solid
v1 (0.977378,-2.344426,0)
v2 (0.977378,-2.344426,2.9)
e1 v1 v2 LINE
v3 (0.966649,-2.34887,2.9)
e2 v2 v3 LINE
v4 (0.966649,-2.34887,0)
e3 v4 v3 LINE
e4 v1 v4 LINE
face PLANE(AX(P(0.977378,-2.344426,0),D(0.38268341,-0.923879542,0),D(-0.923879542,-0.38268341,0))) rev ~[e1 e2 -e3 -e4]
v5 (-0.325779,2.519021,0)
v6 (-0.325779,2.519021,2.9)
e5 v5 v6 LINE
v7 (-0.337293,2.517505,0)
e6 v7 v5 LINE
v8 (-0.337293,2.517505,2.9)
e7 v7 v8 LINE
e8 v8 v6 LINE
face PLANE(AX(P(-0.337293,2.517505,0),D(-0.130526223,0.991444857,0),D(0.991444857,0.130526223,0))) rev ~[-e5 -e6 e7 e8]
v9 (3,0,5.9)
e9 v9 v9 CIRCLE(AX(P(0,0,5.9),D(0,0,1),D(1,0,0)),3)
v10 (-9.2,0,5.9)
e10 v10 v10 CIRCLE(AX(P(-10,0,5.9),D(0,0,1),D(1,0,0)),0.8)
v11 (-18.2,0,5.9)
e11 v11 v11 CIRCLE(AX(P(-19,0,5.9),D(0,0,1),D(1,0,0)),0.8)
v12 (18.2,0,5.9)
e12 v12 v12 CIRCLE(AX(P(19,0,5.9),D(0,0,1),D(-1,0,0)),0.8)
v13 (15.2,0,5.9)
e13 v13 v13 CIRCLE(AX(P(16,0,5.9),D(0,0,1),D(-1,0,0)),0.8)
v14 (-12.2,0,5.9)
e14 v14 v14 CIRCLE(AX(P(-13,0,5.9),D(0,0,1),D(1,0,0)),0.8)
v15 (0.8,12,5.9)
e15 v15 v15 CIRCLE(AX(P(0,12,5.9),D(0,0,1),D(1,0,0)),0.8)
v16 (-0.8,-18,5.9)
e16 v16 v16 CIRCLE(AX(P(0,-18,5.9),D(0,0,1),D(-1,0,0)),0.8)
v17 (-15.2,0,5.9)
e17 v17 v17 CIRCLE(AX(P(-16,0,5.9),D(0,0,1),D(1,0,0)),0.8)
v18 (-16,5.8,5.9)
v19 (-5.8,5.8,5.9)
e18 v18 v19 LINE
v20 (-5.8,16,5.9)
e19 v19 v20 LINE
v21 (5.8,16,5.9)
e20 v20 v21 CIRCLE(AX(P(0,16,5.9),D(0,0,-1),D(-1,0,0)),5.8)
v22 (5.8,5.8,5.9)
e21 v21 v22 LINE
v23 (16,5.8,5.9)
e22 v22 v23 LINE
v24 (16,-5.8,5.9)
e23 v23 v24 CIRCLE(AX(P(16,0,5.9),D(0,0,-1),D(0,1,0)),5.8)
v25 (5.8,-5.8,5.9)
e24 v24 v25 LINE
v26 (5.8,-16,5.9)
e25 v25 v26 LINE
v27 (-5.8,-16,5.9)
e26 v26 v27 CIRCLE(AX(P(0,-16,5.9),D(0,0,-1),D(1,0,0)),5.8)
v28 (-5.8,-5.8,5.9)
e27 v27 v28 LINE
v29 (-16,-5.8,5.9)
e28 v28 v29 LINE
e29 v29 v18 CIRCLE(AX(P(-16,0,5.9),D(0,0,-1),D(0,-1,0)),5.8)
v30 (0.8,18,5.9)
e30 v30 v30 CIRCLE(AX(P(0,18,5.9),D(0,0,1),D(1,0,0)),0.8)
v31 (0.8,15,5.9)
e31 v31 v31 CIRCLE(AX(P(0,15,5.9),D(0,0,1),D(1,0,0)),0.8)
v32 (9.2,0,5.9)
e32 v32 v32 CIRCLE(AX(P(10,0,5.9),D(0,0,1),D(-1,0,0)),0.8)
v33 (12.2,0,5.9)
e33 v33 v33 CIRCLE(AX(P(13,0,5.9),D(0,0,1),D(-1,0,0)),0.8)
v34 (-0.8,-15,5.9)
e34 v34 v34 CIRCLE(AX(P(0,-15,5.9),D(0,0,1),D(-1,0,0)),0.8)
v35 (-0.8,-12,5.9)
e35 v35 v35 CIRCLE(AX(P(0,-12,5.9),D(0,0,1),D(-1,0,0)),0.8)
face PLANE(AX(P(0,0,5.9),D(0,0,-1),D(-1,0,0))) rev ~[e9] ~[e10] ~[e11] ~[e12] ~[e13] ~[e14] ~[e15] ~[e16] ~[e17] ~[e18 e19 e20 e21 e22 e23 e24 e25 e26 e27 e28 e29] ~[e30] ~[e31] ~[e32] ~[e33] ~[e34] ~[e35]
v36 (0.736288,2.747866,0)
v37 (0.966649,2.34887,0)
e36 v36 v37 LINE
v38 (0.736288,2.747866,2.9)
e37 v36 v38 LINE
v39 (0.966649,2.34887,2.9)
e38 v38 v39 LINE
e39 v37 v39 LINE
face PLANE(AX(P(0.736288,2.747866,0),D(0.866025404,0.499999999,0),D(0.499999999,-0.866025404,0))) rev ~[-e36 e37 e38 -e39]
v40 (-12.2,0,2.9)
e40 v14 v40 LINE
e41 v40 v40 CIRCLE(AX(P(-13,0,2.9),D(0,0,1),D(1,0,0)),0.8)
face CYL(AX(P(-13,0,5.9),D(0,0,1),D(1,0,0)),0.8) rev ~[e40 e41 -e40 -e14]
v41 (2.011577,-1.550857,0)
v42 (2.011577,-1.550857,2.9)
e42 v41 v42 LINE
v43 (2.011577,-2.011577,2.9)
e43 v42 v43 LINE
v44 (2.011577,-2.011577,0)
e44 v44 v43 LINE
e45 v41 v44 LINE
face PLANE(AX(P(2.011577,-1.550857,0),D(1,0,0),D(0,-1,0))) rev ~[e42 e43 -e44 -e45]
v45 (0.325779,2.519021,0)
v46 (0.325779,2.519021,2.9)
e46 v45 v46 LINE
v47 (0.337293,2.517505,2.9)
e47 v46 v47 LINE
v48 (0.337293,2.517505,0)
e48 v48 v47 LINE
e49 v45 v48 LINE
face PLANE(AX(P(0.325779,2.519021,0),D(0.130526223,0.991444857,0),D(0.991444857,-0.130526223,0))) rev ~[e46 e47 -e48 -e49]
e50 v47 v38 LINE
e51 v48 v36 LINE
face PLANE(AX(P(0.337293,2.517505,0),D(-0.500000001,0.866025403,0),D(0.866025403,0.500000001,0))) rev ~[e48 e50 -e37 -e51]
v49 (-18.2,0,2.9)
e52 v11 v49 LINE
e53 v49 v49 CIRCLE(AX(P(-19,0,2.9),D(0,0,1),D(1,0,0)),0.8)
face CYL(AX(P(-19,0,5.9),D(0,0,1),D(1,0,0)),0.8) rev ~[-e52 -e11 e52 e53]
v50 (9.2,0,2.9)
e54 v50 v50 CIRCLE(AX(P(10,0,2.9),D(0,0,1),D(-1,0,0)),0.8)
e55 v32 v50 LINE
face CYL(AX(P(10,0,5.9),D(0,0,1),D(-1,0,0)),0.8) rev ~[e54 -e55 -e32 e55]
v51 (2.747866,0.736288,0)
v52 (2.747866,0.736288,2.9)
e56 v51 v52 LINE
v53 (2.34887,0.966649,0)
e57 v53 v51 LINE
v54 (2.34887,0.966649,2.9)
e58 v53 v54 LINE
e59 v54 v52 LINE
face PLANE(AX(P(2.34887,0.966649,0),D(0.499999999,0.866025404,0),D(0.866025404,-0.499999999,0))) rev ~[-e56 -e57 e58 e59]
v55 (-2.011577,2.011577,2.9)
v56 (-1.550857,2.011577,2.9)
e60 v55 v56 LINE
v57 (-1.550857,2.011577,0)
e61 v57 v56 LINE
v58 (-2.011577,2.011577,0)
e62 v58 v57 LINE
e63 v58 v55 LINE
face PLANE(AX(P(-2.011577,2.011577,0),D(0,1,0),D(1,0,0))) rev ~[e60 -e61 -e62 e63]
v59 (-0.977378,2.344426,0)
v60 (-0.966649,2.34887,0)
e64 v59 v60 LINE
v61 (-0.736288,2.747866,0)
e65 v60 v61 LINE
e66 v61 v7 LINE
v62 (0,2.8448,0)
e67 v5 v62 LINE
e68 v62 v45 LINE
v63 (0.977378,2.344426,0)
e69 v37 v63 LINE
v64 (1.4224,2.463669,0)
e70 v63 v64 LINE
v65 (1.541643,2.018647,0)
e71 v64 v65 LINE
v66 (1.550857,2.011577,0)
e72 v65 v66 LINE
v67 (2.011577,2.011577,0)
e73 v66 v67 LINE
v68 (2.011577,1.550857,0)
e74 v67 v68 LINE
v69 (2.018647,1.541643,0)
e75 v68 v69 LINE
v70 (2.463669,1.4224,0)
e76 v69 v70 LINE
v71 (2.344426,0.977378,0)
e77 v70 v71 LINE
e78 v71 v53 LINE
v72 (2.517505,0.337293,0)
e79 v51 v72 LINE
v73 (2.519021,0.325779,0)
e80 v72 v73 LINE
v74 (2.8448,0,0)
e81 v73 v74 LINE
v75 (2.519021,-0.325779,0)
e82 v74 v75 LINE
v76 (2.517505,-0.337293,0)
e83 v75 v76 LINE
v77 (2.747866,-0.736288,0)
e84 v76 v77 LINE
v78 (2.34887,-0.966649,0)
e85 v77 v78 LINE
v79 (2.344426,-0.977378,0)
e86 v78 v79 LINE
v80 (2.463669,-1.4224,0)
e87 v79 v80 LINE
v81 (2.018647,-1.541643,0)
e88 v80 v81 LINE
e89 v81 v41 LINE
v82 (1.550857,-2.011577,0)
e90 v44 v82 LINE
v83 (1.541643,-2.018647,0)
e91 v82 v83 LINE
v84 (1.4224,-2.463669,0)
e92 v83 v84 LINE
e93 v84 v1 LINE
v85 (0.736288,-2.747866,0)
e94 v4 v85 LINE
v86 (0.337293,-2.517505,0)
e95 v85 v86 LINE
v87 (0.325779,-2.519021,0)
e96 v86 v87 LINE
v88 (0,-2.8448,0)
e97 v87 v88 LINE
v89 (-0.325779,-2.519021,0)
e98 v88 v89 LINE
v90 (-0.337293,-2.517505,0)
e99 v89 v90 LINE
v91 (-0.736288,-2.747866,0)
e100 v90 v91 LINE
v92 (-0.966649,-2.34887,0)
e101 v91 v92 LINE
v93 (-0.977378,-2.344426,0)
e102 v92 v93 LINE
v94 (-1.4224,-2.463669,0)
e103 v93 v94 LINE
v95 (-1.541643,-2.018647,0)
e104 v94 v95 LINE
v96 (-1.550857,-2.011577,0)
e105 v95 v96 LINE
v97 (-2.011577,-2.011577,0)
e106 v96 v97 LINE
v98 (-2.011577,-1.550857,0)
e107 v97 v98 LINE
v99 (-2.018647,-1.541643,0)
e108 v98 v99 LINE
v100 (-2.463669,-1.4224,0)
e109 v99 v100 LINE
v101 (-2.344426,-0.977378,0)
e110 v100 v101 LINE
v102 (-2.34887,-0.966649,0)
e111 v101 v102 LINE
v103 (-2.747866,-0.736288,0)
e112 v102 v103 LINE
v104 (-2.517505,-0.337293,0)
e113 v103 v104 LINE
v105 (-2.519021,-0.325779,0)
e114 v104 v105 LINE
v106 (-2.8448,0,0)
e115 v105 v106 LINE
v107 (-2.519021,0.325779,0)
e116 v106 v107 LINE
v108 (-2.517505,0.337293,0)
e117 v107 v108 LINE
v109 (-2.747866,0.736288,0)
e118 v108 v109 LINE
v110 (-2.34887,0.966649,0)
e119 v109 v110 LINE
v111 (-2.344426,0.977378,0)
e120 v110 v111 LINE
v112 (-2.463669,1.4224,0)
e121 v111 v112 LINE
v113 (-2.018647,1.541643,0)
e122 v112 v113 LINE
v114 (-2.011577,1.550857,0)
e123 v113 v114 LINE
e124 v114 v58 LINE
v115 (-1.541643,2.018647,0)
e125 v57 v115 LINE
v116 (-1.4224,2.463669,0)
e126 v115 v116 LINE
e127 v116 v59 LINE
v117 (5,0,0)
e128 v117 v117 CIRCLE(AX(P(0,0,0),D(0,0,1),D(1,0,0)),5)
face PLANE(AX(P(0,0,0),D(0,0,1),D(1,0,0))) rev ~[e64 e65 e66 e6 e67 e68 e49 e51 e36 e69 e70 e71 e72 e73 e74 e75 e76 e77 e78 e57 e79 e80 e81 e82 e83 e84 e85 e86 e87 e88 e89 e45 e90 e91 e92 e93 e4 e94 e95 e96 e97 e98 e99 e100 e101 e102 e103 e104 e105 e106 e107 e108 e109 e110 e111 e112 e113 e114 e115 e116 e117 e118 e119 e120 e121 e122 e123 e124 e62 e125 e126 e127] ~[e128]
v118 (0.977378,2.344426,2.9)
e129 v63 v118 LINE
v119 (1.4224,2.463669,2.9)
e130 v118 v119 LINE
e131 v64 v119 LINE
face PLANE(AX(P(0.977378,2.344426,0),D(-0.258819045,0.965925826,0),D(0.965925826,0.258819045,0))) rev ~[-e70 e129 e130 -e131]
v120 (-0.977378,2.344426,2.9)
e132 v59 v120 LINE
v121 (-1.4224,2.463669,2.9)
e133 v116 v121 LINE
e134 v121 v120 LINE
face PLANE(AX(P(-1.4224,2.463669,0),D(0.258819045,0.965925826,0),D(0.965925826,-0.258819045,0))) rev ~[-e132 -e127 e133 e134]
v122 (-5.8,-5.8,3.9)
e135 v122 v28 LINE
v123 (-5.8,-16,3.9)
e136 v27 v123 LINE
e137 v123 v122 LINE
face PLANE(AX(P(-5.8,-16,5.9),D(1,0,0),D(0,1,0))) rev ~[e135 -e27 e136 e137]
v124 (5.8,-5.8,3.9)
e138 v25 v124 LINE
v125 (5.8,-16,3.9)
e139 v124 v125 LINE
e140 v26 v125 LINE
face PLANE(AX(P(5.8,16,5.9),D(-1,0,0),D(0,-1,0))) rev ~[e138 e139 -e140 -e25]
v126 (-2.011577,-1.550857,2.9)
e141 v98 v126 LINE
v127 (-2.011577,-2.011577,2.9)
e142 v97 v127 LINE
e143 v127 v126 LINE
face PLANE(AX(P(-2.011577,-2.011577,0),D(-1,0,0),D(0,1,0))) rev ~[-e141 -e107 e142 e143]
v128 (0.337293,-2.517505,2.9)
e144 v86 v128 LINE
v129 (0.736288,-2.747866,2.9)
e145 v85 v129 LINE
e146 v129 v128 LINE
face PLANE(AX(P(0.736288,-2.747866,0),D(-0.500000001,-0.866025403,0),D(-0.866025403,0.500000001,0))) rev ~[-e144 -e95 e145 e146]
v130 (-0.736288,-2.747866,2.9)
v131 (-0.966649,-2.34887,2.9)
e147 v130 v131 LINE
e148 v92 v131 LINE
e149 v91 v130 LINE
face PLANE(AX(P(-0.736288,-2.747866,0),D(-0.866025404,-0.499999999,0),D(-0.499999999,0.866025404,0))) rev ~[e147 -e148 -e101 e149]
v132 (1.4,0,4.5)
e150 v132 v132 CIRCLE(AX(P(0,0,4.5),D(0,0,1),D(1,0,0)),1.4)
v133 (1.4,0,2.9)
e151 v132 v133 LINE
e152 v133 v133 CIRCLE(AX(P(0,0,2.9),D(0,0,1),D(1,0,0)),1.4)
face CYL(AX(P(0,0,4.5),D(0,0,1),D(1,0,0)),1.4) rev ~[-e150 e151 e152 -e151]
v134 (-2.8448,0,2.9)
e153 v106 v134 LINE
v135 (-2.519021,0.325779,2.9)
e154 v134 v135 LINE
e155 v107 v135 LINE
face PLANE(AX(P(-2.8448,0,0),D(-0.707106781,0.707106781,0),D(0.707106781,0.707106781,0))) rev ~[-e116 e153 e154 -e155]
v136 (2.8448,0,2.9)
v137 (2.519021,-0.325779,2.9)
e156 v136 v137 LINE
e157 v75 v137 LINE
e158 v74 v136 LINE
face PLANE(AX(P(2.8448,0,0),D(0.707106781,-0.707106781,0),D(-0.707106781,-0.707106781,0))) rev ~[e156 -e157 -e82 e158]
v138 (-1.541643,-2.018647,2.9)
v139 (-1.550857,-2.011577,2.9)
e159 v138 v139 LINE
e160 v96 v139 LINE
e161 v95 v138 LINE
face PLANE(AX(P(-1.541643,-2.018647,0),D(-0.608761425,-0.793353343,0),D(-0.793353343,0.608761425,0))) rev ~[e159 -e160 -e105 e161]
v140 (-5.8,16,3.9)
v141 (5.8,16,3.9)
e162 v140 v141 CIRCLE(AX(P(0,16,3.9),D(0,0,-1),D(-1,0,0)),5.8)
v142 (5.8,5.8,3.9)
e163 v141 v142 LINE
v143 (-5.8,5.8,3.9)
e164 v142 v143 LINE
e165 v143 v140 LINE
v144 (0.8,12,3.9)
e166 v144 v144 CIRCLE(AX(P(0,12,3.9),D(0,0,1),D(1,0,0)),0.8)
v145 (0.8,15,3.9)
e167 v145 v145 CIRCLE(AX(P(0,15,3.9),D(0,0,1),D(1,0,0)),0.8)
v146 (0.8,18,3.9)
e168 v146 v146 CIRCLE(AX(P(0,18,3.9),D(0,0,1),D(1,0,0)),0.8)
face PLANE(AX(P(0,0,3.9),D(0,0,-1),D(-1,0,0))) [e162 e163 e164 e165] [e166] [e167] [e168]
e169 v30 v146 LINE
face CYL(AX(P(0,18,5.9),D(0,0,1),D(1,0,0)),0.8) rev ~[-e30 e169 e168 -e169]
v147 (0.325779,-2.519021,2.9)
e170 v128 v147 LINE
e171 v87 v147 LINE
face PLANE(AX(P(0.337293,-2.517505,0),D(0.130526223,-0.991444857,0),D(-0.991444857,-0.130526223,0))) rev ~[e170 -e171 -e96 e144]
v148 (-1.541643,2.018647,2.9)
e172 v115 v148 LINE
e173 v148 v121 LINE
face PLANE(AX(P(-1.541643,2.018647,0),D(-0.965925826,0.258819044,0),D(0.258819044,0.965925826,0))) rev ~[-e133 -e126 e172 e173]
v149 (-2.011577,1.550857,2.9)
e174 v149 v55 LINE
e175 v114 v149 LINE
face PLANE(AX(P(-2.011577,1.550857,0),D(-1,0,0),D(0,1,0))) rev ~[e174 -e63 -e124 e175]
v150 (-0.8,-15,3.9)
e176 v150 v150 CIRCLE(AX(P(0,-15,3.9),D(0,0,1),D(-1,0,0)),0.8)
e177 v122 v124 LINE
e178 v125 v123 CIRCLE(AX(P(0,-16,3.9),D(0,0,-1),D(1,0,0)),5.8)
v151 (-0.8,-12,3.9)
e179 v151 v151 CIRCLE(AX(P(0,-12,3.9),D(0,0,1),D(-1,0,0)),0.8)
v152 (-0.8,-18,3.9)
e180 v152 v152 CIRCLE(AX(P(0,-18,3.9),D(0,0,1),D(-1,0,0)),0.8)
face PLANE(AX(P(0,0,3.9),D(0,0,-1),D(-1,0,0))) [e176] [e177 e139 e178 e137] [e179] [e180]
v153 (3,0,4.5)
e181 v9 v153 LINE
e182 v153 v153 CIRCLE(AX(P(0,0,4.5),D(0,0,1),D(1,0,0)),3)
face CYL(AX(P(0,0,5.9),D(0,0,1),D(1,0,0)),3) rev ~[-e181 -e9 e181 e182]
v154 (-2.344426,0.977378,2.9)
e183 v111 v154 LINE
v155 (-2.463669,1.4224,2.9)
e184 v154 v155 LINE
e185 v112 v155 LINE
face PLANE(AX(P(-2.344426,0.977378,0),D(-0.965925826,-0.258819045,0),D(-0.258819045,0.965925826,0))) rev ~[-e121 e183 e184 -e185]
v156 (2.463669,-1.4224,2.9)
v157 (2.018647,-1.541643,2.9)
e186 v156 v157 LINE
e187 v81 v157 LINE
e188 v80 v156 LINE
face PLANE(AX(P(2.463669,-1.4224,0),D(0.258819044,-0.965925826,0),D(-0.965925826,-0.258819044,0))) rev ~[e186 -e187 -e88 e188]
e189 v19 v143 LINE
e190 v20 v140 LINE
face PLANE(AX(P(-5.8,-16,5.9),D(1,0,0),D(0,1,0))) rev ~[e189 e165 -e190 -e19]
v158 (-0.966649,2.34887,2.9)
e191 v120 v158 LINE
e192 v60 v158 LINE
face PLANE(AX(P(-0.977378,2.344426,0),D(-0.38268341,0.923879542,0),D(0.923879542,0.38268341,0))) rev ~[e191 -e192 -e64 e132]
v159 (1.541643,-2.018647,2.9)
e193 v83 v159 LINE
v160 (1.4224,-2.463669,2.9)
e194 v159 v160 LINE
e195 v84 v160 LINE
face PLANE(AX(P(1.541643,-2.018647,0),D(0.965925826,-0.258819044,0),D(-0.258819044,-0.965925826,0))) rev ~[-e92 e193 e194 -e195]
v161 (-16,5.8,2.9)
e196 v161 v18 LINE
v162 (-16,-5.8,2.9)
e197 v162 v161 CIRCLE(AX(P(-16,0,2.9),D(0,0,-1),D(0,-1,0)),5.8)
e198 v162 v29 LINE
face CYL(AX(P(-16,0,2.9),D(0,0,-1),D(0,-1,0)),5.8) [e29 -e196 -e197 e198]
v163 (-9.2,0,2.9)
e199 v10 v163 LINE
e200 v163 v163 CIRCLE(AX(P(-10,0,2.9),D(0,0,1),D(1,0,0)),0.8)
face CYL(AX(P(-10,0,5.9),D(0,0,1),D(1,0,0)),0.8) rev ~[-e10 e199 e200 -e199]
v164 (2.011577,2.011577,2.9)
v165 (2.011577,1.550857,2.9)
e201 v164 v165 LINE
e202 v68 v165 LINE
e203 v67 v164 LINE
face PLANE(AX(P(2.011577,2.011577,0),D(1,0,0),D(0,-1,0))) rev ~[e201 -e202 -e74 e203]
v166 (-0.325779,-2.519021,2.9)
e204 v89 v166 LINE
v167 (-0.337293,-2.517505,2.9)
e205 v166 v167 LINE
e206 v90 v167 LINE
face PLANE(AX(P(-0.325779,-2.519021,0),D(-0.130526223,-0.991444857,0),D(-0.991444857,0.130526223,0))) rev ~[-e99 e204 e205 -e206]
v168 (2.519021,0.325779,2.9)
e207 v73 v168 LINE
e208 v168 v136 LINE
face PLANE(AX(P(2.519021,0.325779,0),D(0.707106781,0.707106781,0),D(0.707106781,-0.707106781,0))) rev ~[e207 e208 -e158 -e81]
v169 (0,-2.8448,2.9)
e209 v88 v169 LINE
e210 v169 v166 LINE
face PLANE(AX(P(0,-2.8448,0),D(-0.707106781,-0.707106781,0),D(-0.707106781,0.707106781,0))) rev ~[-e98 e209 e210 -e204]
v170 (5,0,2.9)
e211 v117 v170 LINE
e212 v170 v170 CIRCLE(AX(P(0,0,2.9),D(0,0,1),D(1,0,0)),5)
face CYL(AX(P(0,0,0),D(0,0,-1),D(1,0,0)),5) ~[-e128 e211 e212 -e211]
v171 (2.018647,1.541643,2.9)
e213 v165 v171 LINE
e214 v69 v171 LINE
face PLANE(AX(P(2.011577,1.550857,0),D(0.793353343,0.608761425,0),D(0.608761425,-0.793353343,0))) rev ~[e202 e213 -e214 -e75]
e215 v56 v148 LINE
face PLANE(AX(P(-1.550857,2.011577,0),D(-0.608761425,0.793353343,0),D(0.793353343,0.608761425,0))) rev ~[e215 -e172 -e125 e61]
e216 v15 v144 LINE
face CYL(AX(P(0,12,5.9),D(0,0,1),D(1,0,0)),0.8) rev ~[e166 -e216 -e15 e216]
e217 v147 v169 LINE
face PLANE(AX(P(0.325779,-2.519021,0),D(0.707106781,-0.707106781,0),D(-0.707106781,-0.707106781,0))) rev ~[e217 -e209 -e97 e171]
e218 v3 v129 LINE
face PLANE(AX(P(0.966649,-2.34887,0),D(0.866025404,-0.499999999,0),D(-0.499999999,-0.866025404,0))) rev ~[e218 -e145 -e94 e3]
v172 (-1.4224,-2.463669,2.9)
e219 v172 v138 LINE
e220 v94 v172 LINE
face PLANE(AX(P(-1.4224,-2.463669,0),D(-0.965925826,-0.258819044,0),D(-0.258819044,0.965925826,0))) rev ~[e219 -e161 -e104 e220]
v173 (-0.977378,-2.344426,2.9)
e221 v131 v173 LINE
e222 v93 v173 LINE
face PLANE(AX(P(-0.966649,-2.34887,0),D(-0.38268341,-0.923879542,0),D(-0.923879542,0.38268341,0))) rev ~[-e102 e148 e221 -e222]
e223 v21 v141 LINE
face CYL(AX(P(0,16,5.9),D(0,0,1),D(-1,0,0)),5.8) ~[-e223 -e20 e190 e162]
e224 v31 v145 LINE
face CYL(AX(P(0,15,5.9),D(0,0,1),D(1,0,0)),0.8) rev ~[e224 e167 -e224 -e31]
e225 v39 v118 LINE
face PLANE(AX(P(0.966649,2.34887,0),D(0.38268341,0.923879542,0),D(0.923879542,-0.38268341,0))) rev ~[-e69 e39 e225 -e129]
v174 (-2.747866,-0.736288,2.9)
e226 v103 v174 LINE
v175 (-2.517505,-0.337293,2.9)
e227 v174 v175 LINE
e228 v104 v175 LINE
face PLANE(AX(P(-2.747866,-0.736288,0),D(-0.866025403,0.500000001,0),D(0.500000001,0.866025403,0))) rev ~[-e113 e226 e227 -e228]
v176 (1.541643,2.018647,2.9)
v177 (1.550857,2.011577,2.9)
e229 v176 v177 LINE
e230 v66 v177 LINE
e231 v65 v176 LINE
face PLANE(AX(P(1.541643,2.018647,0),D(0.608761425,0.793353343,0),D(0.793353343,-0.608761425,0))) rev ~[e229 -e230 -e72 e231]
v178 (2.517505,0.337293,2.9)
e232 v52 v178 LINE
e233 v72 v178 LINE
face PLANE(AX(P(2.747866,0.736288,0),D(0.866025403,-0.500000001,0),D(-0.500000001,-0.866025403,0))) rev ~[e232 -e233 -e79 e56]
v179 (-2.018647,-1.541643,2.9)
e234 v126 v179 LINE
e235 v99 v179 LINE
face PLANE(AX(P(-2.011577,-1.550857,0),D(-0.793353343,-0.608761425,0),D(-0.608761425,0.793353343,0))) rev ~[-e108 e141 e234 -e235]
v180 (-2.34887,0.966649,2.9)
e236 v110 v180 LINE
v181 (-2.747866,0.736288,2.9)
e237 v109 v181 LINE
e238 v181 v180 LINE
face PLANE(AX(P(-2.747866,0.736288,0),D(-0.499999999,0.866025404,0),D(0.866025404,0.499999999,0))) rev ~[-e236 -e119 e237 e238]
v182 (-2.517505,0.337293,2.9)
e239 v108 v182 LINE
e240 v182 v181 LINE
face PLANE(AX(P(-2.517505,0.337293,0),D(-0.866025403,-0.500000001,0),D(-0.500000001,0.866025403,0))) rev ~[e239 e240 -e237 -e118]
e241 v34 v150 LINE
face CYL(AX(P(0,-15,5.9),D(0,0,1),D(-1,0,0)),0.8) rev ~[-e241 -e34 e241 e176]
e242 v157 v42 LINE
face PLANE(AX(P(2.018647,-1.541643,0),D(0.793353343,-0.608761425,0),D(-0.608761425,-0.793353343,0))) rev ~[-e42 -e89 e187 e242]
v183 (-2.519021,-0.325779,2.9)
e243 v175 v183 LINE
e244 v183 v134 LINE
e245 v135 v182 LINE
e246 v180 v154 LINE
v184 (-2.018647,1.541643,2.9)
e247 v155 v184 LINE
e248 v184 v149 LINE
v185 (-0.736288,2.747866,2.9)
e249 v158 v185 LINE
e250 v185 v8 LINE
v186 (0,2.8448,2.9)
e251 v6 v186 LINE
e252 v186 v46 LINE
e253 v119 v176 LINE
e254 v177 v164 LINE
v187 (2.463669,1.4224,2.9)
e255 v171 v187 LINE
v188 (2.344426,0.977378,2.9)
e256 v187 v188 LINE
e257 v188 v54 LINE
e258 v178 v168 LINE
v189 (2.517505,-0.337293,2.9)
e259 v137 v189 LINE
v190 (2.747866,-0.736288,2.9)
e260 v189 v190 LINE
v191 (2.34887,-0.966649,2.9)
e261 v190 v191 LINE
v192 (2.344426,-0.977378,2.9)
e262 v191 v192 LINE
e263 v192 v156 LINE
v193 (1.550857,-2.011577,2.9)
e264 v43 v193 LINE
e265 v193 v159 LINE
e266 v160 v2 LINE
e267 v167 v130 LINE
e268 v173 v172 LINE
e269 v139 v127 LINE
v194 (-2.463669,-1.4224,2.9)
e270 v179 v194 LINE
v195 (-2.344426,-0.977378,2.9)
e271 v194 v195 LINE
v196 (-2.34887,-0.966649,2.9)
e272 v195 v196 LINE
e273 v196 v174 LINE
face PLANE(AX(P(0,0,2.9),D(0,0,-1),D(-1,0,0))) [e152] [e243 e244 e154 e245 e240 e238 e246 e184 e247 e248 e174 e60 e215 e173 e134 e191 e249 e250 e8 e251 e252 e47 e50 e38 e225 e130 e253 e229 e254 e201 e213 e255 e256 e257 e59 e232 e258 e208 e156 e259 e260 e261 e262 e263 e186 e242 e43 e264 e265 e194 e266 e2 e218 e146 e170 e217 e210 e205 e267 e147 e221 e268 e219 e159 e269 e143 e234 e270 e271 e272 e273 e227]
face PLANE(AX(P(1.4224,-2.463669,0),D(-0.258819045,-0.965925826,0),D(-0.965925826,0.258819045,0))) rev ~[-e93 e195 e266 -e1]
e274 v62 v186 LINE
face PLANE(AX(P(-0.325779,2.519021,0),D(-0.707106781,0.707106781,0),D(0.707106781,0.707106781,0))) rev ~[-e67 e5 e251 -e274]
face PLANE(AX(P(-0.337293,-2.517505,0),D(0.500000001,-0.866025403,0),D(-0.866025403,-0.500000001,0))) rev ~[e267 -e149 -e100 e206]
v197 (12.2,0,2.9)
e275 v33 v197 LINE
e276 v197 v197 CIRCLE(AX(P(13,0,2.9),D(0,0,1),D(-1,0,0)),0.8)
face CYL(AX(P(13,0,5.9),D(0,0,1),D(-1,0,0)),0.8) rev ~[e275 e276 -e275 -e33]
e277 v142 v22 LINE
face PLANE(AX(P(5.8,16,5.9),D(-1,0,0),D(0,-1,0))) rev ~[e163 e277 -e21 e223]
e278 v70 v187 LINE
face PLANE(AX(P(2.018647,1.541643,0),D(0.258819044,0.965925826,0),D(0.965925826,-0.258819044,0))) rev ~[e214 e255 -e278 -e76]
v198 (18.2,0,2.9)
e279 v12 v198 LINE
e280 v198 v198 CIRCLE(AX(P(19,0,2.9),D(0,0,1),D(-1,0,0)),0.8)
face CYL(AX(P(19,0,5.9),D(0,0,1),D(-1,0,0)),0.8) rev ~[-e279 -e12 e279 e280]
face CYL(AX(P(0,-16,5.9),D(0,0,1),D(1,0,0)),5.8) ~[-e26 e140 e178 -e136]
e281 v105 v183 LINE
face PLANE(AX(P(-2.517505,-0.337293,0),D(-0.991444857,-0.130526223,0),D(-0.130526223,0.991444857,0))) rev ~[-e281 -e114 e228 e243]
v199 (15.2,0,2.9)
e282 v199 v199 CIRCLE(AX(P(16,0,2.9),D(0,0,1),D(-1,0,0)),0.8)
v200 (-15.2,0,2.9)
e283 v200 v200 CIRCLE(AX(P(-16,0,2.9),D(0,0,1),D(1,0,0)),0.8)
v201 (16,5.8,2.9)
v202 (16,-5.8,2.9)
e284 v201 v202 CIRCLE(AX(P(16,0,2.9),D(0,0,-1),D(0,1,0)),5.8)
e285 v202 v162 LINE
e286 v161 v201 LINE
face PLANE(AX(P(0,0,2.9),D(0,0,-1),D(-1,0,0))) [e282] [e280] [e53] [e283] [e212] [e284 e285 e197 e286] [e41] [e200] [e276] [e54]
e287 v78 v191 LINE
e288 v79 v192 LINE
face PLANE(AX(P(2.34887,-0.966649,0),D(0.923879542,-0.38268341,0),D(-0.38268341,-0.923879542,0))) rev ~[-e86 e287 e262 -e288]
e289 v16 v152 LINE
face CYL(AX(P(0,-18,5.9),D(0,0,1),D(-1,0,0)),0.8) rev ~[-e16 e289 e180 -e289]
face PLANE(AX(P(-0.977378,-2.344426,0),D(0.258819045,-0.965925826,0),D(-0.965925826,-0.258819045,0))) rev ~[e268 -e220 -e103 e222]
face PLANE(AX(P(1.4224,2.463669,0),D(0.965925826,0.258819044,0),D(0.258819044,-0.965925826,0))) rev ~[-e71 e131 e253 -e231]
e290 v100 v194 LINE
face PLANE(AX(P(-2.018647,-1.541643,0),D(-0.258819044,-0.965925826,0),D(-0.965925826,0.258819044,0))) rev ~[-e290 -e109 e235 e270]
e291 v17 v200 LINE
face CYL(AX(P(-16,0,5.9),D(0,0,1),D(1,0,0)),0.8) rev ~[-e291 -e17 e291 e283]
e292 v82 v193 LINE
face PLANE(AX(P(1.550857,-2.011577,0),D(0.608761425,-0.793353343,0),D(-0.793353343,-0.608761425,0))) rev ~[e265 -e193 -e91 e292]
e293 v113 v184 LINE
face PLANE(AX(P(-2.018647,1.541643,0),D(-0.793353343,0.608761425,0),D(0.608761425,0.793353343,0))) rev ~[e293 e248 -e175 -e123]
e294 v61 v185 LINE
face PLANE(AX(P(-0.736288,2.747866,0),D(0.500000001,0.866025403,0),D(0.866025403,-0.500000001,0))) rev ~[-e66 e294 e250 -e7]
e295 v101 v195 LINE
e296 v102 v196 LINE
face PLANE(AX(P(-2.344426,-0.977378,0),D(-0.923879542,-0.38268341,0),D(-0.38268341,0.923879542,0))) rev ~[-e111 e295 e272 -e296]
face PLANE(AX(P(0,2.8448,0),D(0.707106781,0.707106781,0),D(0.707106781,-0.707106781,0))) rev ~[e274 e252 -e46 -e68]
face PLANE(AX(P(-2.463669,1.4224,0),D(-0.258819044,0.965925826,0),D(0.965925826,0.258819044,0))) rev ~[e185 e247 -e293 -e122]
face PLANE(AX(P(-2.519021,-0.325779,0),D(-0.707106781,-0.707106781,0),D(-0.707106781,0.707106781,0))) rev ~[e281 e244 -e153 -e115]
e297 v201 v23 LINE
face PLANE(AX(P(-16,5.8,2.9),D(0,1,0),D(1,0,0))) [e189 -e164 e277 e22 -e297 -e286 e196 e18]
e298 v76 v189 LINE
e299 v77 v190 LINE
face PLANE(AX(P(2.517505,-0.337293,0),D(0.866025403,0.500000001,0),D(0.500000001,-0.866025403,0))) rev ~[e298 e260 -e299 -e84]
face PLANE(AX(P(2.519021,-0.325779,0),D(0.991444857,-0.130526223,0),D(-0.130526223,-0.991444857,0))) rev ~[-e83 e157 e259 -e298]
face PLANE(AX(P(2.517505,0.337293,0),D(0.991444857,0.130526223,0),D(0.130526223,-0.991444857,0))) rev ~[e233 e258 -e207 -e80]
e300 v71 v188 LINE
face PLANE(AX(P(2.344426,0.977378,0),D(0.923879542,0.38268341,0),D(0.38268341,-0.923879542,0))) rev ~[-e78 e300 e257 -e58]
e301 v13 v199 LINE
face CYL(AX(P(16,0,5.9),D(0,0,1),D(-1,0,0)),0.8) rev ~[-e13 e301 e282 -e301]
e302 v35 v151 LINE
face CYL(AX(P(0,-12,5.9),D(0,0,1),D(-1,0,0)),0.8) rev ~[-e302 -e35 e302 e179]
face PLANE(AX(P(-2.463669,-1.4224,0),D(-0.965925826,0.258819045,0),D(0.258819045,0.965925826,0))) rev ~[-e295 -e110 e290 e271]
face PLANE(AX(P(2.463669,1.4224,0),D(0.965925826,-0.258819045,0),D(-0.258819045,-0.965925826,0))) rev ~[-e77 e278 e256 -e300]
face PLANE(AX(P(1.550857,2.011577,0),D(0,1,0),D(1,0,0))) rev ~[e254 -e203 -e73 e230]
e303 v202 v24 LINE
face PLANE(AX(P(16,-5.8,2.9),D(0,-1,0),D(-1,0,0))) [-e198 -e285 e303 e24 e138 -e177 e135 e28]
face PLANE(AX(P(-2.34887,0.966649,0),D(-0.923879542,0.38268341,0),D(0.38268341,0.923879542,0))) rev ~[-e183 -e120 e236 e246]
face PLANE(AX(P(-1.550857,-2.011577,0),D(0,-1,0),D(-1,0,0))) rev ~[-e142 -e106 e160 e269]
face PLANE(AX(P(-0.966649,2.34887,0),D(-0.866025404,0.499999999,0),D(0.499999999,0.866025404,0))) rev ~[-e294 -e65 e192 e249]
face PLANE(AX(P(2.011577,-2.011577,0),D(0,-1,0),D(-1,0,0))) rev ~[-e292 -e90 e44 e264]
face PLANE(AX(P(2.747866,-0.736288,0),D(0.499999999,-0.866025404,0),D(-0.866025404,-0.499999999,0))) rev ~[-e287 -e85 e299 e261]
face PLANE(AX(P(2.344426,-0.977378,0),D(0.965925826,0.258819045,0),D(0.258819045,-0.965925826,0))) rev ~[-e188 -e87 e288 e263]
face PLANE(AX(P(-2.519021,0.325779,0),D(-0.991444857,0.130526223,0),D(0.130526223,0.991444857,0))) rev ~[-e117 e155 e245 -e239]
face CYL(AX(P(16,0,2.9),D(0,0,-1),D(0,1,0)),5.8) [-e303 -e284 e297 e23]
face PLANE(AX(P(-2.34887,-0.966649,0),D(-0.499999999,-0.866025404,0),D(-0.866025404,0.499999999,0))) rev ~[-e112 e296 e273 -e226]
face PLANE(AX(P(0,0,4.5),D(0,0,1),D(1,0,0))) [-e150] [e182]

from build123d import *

# Parameters (mm, degrees)
ESQUISSE1_R                  = 5
BOSS_EXTRU_1_DEPTH           = 2.9
BOSS_EXTRU_2_DEPTH           = 3
BOSS_EXTRU_3_DEPTH           = 2
ESQUISSE4_R                  = 0.8
ENL_V_MAT_EXTRU_1_DEPTH      = 6.9
ESQUISSE5_R                  = 0.8
ENL_V_MAT_EXTRU_2_DEPTH      = 6.9
R_P_TITION_CIRCULAIRE1_COUNT = 2
ESQUISSE6_R                  = 3
ENL_V_MAT_EXTRU_3_DEPTH      = 1.4
ESQUISSE7_R                  = 1.4
ENL_V_MAT_EXTRU_4_DEPTH      = 5.5


with BuildPart() as part:
    # Esquisse1 → Boss.-Extru.1 (new body)
    with BuildSketch(Plane.XY):
        Circle(ESQUISSE1_R)
        Polygon((2.011577371, -1.550856692), (2.011577371, -2.011577371), (1.550856692, -2.011577371), (1.541643286, -2.018647066), (1.4224, -2.463669069), (0.977377998, -2.344425783), (0.966648759, -2.348869979), (0.73628842, -2.747865791), (0.337292608, -2.517505451), (0.325778716, -2.519021284), (0, -2.8448), (-0.325778716, -2.519021284), (-0.337292608, -2.517505451), (-0.73628842, -2.747865791), (-0.966648759, -2.348869979), (-0.977377998, -2.344425783), (-1.4224, -2.463669069), (-1.541643286, -2.018647066), (-1.550856692, -2.011577371), (-2.011577371, -2.011577371), (-2.011577371, -1.550856692), (-2.018647066, -1.541643286), (-2.463669069, -1.4224), (-2.344425783, -0.977377998), (-2.348869979, -0.966648759), (-2.747865791, -0.73628842), (-2.517505451, -0.337292608), (-2.519021284, -0.325778716), (-2.8448, 0), (-2.519021284, 0.325778716), (-2.517505451, 0.337292608), (-2.747865791, 0.73628842), (-2.348869979, 0.966648759), (-2.344425783, 0.977377998), (-2.463669069, 1.4224), (-2.018647066, 1.541643286), (-2.011577371, 1.550856692), (-2.011577371, 2.011577371), (-1.550856692, 2.011577371), (-1.541643286, 2.018647066), (-1.4224, 2.463669069), (-0.977377998, 2.344425783), (-0.966648759, 2.348869979), (-0.73628842, 2.747865791), (-0.337292608, 2.517505451), (-0.325778716, 2.519021284), (0, 2.8448), (0.325778716, 2.519021284), (0.337292608, 2.517505451), (0.73628842, 2.747865791), (0.966648759, 2.348869979), (0.977377998, 2.344425783), (1.4224, 2.463669069), (1.541643286, 2.018647066), (1.550856692, 2.011577371), (2.011577371, 2.011577371), (2.011577371, 1.550856692), (2.018647066, 1.541643286), (2.463669069, 1.4224), (2.344425783, 0.977377998), (2.348869979, 0.966648759), (2.747865791, 0.73628842), (2.517505451, 0.337292608), (2.519021284, 0.325778716), (2.8448, 0), (2.519021284, -0.325778716), (2.517505451, -0.337292608), (2.747865791, -0.73628842), (2.348869979, -0.966648759), (2.344425783, -0.977377998), (2.463669069, -1.4224), (2.018647066, -1.541643286), align=None, mode=Mode.SUBTRACT)
    extrude(amount=BOSS_EXTRU_1_DEPTH)

    # Esquisse2 → Boss.-Extru.2 (add)
    with BuildSketch(Plane.XY.offset(2.9)):
        with BuildLine():
            Line((-16, 5.8), (16, 5.8))
            ThreePointArc((16, 5.8), (21.8, 0), (16, -5.8))
            Line((16, -5.8), (-16, -5.8))
            ThreePointArc((-16, -5.8), (-21.8, 0), (-16, 5.8))
        make_face()
    extrude(amount=BOSS_EXTRU_2_DEPTH)

    # Esquisse3 → Boss.-Extru.3 (add)
    with BuildSketch(Plane.XY.offset(5.9)):
        with BuildLine():
            Line((5.8, 16), (5.8, -16))
            ThreePointArc((5.8, -16), (0, -21.8), (-5.8, -16))
            Line((-5.8, -16), (-5.8, 16))
            ThreePointArc((-5.8, 16), (0, 21.8), (5.8, 16))
        make_face()
    extrude(amount=-BOSS_EXTRU_3_DEPTH)

    # Esquisse4 → Enlèv. mat.-Extru.1 (cut, through all)
    with BuildSketch(Plane.XY.offset(5.9)):
        with Locations((-10, 0)):
            Circle(ESQUISSE4_R)
        with Locations((-13, 0)):
            Circle(ESQUISSE4_R)
        with Locations((-16, 0)):
            Circle(ESQUISSE4_R)
        with Locations((-19, 0)):
            Circle(ESQUISSE4_R)
    enl_v_mat_extru_1 = extrude(amount=-ENL_V_MAT_EXTRU_1_DEPTH, mode=Mode.SUBTRACT)

    # Esquisse5 → Enlèv. mat.-Extru.2 (cut, through all)
    with BuildSketch(Plane.XY.offset(5.9)):
        with Locations((0, 12)):
            Circle(ESQUISSE5_R)
        with Locations((0, 15)):
            Circle(ESQUISSE5_R)
        with Locations((0, 18)):
            Circle(ESQUISSE5_R)
    enl_v_mat_extru_2 = extrude(amount=-ENL_V_MAT_EXTRU_2_DEPTH, mode=Mode.SUBTRACT)

    # Répétition circulaire1: Enlèv. mat.-Extru.1, Enlèv. mat.-Extru.2 ×2 about axis
    r_p_tition_circulaire1_axis = Axis((0, 0, 0), (0, 0, 1))
    for i in range(1, R_P_TITION_CIRCULAIRE1_COUNT):
        add(enl_v_mat_extru_1.rotate(r_p_tition_circulaire1_axis, i * 360 / R_P_TITION_CIRCULAIRE1_COUNT), mode=Mode.SUBTRACT)
        add(enl_v_mat_extru_2.rotate(r_p_tition_circulaire1_axis, i * 360 / R_P_TITION_CIRCULAIRE1_COUNT), mode=Mode.SUBTRACT)

    # Esquisse6 → Enlèv. mat.-Extru.3 (cut)
    with BuildSketch(Plane.XY.offset(5.9)):
        Circle(ESQUISSE6_R)
    extrude(amount=-ENL_V_MAT_EXTRU_3_DEPTH, mode=Mode.SUBTRACT)

    # Esquisse7 → Enlèv. mat.-Extru.4 (cut, through all)
    with BuildSketch(Plane.XY.offset(4.5)):
        Circle(ESQUISSE7_R)
    extrude(amount=-ENL_V_MAT_EXTRU_4_DEPTH, mode=Mode.SUBTRACT)


solid = part.part
